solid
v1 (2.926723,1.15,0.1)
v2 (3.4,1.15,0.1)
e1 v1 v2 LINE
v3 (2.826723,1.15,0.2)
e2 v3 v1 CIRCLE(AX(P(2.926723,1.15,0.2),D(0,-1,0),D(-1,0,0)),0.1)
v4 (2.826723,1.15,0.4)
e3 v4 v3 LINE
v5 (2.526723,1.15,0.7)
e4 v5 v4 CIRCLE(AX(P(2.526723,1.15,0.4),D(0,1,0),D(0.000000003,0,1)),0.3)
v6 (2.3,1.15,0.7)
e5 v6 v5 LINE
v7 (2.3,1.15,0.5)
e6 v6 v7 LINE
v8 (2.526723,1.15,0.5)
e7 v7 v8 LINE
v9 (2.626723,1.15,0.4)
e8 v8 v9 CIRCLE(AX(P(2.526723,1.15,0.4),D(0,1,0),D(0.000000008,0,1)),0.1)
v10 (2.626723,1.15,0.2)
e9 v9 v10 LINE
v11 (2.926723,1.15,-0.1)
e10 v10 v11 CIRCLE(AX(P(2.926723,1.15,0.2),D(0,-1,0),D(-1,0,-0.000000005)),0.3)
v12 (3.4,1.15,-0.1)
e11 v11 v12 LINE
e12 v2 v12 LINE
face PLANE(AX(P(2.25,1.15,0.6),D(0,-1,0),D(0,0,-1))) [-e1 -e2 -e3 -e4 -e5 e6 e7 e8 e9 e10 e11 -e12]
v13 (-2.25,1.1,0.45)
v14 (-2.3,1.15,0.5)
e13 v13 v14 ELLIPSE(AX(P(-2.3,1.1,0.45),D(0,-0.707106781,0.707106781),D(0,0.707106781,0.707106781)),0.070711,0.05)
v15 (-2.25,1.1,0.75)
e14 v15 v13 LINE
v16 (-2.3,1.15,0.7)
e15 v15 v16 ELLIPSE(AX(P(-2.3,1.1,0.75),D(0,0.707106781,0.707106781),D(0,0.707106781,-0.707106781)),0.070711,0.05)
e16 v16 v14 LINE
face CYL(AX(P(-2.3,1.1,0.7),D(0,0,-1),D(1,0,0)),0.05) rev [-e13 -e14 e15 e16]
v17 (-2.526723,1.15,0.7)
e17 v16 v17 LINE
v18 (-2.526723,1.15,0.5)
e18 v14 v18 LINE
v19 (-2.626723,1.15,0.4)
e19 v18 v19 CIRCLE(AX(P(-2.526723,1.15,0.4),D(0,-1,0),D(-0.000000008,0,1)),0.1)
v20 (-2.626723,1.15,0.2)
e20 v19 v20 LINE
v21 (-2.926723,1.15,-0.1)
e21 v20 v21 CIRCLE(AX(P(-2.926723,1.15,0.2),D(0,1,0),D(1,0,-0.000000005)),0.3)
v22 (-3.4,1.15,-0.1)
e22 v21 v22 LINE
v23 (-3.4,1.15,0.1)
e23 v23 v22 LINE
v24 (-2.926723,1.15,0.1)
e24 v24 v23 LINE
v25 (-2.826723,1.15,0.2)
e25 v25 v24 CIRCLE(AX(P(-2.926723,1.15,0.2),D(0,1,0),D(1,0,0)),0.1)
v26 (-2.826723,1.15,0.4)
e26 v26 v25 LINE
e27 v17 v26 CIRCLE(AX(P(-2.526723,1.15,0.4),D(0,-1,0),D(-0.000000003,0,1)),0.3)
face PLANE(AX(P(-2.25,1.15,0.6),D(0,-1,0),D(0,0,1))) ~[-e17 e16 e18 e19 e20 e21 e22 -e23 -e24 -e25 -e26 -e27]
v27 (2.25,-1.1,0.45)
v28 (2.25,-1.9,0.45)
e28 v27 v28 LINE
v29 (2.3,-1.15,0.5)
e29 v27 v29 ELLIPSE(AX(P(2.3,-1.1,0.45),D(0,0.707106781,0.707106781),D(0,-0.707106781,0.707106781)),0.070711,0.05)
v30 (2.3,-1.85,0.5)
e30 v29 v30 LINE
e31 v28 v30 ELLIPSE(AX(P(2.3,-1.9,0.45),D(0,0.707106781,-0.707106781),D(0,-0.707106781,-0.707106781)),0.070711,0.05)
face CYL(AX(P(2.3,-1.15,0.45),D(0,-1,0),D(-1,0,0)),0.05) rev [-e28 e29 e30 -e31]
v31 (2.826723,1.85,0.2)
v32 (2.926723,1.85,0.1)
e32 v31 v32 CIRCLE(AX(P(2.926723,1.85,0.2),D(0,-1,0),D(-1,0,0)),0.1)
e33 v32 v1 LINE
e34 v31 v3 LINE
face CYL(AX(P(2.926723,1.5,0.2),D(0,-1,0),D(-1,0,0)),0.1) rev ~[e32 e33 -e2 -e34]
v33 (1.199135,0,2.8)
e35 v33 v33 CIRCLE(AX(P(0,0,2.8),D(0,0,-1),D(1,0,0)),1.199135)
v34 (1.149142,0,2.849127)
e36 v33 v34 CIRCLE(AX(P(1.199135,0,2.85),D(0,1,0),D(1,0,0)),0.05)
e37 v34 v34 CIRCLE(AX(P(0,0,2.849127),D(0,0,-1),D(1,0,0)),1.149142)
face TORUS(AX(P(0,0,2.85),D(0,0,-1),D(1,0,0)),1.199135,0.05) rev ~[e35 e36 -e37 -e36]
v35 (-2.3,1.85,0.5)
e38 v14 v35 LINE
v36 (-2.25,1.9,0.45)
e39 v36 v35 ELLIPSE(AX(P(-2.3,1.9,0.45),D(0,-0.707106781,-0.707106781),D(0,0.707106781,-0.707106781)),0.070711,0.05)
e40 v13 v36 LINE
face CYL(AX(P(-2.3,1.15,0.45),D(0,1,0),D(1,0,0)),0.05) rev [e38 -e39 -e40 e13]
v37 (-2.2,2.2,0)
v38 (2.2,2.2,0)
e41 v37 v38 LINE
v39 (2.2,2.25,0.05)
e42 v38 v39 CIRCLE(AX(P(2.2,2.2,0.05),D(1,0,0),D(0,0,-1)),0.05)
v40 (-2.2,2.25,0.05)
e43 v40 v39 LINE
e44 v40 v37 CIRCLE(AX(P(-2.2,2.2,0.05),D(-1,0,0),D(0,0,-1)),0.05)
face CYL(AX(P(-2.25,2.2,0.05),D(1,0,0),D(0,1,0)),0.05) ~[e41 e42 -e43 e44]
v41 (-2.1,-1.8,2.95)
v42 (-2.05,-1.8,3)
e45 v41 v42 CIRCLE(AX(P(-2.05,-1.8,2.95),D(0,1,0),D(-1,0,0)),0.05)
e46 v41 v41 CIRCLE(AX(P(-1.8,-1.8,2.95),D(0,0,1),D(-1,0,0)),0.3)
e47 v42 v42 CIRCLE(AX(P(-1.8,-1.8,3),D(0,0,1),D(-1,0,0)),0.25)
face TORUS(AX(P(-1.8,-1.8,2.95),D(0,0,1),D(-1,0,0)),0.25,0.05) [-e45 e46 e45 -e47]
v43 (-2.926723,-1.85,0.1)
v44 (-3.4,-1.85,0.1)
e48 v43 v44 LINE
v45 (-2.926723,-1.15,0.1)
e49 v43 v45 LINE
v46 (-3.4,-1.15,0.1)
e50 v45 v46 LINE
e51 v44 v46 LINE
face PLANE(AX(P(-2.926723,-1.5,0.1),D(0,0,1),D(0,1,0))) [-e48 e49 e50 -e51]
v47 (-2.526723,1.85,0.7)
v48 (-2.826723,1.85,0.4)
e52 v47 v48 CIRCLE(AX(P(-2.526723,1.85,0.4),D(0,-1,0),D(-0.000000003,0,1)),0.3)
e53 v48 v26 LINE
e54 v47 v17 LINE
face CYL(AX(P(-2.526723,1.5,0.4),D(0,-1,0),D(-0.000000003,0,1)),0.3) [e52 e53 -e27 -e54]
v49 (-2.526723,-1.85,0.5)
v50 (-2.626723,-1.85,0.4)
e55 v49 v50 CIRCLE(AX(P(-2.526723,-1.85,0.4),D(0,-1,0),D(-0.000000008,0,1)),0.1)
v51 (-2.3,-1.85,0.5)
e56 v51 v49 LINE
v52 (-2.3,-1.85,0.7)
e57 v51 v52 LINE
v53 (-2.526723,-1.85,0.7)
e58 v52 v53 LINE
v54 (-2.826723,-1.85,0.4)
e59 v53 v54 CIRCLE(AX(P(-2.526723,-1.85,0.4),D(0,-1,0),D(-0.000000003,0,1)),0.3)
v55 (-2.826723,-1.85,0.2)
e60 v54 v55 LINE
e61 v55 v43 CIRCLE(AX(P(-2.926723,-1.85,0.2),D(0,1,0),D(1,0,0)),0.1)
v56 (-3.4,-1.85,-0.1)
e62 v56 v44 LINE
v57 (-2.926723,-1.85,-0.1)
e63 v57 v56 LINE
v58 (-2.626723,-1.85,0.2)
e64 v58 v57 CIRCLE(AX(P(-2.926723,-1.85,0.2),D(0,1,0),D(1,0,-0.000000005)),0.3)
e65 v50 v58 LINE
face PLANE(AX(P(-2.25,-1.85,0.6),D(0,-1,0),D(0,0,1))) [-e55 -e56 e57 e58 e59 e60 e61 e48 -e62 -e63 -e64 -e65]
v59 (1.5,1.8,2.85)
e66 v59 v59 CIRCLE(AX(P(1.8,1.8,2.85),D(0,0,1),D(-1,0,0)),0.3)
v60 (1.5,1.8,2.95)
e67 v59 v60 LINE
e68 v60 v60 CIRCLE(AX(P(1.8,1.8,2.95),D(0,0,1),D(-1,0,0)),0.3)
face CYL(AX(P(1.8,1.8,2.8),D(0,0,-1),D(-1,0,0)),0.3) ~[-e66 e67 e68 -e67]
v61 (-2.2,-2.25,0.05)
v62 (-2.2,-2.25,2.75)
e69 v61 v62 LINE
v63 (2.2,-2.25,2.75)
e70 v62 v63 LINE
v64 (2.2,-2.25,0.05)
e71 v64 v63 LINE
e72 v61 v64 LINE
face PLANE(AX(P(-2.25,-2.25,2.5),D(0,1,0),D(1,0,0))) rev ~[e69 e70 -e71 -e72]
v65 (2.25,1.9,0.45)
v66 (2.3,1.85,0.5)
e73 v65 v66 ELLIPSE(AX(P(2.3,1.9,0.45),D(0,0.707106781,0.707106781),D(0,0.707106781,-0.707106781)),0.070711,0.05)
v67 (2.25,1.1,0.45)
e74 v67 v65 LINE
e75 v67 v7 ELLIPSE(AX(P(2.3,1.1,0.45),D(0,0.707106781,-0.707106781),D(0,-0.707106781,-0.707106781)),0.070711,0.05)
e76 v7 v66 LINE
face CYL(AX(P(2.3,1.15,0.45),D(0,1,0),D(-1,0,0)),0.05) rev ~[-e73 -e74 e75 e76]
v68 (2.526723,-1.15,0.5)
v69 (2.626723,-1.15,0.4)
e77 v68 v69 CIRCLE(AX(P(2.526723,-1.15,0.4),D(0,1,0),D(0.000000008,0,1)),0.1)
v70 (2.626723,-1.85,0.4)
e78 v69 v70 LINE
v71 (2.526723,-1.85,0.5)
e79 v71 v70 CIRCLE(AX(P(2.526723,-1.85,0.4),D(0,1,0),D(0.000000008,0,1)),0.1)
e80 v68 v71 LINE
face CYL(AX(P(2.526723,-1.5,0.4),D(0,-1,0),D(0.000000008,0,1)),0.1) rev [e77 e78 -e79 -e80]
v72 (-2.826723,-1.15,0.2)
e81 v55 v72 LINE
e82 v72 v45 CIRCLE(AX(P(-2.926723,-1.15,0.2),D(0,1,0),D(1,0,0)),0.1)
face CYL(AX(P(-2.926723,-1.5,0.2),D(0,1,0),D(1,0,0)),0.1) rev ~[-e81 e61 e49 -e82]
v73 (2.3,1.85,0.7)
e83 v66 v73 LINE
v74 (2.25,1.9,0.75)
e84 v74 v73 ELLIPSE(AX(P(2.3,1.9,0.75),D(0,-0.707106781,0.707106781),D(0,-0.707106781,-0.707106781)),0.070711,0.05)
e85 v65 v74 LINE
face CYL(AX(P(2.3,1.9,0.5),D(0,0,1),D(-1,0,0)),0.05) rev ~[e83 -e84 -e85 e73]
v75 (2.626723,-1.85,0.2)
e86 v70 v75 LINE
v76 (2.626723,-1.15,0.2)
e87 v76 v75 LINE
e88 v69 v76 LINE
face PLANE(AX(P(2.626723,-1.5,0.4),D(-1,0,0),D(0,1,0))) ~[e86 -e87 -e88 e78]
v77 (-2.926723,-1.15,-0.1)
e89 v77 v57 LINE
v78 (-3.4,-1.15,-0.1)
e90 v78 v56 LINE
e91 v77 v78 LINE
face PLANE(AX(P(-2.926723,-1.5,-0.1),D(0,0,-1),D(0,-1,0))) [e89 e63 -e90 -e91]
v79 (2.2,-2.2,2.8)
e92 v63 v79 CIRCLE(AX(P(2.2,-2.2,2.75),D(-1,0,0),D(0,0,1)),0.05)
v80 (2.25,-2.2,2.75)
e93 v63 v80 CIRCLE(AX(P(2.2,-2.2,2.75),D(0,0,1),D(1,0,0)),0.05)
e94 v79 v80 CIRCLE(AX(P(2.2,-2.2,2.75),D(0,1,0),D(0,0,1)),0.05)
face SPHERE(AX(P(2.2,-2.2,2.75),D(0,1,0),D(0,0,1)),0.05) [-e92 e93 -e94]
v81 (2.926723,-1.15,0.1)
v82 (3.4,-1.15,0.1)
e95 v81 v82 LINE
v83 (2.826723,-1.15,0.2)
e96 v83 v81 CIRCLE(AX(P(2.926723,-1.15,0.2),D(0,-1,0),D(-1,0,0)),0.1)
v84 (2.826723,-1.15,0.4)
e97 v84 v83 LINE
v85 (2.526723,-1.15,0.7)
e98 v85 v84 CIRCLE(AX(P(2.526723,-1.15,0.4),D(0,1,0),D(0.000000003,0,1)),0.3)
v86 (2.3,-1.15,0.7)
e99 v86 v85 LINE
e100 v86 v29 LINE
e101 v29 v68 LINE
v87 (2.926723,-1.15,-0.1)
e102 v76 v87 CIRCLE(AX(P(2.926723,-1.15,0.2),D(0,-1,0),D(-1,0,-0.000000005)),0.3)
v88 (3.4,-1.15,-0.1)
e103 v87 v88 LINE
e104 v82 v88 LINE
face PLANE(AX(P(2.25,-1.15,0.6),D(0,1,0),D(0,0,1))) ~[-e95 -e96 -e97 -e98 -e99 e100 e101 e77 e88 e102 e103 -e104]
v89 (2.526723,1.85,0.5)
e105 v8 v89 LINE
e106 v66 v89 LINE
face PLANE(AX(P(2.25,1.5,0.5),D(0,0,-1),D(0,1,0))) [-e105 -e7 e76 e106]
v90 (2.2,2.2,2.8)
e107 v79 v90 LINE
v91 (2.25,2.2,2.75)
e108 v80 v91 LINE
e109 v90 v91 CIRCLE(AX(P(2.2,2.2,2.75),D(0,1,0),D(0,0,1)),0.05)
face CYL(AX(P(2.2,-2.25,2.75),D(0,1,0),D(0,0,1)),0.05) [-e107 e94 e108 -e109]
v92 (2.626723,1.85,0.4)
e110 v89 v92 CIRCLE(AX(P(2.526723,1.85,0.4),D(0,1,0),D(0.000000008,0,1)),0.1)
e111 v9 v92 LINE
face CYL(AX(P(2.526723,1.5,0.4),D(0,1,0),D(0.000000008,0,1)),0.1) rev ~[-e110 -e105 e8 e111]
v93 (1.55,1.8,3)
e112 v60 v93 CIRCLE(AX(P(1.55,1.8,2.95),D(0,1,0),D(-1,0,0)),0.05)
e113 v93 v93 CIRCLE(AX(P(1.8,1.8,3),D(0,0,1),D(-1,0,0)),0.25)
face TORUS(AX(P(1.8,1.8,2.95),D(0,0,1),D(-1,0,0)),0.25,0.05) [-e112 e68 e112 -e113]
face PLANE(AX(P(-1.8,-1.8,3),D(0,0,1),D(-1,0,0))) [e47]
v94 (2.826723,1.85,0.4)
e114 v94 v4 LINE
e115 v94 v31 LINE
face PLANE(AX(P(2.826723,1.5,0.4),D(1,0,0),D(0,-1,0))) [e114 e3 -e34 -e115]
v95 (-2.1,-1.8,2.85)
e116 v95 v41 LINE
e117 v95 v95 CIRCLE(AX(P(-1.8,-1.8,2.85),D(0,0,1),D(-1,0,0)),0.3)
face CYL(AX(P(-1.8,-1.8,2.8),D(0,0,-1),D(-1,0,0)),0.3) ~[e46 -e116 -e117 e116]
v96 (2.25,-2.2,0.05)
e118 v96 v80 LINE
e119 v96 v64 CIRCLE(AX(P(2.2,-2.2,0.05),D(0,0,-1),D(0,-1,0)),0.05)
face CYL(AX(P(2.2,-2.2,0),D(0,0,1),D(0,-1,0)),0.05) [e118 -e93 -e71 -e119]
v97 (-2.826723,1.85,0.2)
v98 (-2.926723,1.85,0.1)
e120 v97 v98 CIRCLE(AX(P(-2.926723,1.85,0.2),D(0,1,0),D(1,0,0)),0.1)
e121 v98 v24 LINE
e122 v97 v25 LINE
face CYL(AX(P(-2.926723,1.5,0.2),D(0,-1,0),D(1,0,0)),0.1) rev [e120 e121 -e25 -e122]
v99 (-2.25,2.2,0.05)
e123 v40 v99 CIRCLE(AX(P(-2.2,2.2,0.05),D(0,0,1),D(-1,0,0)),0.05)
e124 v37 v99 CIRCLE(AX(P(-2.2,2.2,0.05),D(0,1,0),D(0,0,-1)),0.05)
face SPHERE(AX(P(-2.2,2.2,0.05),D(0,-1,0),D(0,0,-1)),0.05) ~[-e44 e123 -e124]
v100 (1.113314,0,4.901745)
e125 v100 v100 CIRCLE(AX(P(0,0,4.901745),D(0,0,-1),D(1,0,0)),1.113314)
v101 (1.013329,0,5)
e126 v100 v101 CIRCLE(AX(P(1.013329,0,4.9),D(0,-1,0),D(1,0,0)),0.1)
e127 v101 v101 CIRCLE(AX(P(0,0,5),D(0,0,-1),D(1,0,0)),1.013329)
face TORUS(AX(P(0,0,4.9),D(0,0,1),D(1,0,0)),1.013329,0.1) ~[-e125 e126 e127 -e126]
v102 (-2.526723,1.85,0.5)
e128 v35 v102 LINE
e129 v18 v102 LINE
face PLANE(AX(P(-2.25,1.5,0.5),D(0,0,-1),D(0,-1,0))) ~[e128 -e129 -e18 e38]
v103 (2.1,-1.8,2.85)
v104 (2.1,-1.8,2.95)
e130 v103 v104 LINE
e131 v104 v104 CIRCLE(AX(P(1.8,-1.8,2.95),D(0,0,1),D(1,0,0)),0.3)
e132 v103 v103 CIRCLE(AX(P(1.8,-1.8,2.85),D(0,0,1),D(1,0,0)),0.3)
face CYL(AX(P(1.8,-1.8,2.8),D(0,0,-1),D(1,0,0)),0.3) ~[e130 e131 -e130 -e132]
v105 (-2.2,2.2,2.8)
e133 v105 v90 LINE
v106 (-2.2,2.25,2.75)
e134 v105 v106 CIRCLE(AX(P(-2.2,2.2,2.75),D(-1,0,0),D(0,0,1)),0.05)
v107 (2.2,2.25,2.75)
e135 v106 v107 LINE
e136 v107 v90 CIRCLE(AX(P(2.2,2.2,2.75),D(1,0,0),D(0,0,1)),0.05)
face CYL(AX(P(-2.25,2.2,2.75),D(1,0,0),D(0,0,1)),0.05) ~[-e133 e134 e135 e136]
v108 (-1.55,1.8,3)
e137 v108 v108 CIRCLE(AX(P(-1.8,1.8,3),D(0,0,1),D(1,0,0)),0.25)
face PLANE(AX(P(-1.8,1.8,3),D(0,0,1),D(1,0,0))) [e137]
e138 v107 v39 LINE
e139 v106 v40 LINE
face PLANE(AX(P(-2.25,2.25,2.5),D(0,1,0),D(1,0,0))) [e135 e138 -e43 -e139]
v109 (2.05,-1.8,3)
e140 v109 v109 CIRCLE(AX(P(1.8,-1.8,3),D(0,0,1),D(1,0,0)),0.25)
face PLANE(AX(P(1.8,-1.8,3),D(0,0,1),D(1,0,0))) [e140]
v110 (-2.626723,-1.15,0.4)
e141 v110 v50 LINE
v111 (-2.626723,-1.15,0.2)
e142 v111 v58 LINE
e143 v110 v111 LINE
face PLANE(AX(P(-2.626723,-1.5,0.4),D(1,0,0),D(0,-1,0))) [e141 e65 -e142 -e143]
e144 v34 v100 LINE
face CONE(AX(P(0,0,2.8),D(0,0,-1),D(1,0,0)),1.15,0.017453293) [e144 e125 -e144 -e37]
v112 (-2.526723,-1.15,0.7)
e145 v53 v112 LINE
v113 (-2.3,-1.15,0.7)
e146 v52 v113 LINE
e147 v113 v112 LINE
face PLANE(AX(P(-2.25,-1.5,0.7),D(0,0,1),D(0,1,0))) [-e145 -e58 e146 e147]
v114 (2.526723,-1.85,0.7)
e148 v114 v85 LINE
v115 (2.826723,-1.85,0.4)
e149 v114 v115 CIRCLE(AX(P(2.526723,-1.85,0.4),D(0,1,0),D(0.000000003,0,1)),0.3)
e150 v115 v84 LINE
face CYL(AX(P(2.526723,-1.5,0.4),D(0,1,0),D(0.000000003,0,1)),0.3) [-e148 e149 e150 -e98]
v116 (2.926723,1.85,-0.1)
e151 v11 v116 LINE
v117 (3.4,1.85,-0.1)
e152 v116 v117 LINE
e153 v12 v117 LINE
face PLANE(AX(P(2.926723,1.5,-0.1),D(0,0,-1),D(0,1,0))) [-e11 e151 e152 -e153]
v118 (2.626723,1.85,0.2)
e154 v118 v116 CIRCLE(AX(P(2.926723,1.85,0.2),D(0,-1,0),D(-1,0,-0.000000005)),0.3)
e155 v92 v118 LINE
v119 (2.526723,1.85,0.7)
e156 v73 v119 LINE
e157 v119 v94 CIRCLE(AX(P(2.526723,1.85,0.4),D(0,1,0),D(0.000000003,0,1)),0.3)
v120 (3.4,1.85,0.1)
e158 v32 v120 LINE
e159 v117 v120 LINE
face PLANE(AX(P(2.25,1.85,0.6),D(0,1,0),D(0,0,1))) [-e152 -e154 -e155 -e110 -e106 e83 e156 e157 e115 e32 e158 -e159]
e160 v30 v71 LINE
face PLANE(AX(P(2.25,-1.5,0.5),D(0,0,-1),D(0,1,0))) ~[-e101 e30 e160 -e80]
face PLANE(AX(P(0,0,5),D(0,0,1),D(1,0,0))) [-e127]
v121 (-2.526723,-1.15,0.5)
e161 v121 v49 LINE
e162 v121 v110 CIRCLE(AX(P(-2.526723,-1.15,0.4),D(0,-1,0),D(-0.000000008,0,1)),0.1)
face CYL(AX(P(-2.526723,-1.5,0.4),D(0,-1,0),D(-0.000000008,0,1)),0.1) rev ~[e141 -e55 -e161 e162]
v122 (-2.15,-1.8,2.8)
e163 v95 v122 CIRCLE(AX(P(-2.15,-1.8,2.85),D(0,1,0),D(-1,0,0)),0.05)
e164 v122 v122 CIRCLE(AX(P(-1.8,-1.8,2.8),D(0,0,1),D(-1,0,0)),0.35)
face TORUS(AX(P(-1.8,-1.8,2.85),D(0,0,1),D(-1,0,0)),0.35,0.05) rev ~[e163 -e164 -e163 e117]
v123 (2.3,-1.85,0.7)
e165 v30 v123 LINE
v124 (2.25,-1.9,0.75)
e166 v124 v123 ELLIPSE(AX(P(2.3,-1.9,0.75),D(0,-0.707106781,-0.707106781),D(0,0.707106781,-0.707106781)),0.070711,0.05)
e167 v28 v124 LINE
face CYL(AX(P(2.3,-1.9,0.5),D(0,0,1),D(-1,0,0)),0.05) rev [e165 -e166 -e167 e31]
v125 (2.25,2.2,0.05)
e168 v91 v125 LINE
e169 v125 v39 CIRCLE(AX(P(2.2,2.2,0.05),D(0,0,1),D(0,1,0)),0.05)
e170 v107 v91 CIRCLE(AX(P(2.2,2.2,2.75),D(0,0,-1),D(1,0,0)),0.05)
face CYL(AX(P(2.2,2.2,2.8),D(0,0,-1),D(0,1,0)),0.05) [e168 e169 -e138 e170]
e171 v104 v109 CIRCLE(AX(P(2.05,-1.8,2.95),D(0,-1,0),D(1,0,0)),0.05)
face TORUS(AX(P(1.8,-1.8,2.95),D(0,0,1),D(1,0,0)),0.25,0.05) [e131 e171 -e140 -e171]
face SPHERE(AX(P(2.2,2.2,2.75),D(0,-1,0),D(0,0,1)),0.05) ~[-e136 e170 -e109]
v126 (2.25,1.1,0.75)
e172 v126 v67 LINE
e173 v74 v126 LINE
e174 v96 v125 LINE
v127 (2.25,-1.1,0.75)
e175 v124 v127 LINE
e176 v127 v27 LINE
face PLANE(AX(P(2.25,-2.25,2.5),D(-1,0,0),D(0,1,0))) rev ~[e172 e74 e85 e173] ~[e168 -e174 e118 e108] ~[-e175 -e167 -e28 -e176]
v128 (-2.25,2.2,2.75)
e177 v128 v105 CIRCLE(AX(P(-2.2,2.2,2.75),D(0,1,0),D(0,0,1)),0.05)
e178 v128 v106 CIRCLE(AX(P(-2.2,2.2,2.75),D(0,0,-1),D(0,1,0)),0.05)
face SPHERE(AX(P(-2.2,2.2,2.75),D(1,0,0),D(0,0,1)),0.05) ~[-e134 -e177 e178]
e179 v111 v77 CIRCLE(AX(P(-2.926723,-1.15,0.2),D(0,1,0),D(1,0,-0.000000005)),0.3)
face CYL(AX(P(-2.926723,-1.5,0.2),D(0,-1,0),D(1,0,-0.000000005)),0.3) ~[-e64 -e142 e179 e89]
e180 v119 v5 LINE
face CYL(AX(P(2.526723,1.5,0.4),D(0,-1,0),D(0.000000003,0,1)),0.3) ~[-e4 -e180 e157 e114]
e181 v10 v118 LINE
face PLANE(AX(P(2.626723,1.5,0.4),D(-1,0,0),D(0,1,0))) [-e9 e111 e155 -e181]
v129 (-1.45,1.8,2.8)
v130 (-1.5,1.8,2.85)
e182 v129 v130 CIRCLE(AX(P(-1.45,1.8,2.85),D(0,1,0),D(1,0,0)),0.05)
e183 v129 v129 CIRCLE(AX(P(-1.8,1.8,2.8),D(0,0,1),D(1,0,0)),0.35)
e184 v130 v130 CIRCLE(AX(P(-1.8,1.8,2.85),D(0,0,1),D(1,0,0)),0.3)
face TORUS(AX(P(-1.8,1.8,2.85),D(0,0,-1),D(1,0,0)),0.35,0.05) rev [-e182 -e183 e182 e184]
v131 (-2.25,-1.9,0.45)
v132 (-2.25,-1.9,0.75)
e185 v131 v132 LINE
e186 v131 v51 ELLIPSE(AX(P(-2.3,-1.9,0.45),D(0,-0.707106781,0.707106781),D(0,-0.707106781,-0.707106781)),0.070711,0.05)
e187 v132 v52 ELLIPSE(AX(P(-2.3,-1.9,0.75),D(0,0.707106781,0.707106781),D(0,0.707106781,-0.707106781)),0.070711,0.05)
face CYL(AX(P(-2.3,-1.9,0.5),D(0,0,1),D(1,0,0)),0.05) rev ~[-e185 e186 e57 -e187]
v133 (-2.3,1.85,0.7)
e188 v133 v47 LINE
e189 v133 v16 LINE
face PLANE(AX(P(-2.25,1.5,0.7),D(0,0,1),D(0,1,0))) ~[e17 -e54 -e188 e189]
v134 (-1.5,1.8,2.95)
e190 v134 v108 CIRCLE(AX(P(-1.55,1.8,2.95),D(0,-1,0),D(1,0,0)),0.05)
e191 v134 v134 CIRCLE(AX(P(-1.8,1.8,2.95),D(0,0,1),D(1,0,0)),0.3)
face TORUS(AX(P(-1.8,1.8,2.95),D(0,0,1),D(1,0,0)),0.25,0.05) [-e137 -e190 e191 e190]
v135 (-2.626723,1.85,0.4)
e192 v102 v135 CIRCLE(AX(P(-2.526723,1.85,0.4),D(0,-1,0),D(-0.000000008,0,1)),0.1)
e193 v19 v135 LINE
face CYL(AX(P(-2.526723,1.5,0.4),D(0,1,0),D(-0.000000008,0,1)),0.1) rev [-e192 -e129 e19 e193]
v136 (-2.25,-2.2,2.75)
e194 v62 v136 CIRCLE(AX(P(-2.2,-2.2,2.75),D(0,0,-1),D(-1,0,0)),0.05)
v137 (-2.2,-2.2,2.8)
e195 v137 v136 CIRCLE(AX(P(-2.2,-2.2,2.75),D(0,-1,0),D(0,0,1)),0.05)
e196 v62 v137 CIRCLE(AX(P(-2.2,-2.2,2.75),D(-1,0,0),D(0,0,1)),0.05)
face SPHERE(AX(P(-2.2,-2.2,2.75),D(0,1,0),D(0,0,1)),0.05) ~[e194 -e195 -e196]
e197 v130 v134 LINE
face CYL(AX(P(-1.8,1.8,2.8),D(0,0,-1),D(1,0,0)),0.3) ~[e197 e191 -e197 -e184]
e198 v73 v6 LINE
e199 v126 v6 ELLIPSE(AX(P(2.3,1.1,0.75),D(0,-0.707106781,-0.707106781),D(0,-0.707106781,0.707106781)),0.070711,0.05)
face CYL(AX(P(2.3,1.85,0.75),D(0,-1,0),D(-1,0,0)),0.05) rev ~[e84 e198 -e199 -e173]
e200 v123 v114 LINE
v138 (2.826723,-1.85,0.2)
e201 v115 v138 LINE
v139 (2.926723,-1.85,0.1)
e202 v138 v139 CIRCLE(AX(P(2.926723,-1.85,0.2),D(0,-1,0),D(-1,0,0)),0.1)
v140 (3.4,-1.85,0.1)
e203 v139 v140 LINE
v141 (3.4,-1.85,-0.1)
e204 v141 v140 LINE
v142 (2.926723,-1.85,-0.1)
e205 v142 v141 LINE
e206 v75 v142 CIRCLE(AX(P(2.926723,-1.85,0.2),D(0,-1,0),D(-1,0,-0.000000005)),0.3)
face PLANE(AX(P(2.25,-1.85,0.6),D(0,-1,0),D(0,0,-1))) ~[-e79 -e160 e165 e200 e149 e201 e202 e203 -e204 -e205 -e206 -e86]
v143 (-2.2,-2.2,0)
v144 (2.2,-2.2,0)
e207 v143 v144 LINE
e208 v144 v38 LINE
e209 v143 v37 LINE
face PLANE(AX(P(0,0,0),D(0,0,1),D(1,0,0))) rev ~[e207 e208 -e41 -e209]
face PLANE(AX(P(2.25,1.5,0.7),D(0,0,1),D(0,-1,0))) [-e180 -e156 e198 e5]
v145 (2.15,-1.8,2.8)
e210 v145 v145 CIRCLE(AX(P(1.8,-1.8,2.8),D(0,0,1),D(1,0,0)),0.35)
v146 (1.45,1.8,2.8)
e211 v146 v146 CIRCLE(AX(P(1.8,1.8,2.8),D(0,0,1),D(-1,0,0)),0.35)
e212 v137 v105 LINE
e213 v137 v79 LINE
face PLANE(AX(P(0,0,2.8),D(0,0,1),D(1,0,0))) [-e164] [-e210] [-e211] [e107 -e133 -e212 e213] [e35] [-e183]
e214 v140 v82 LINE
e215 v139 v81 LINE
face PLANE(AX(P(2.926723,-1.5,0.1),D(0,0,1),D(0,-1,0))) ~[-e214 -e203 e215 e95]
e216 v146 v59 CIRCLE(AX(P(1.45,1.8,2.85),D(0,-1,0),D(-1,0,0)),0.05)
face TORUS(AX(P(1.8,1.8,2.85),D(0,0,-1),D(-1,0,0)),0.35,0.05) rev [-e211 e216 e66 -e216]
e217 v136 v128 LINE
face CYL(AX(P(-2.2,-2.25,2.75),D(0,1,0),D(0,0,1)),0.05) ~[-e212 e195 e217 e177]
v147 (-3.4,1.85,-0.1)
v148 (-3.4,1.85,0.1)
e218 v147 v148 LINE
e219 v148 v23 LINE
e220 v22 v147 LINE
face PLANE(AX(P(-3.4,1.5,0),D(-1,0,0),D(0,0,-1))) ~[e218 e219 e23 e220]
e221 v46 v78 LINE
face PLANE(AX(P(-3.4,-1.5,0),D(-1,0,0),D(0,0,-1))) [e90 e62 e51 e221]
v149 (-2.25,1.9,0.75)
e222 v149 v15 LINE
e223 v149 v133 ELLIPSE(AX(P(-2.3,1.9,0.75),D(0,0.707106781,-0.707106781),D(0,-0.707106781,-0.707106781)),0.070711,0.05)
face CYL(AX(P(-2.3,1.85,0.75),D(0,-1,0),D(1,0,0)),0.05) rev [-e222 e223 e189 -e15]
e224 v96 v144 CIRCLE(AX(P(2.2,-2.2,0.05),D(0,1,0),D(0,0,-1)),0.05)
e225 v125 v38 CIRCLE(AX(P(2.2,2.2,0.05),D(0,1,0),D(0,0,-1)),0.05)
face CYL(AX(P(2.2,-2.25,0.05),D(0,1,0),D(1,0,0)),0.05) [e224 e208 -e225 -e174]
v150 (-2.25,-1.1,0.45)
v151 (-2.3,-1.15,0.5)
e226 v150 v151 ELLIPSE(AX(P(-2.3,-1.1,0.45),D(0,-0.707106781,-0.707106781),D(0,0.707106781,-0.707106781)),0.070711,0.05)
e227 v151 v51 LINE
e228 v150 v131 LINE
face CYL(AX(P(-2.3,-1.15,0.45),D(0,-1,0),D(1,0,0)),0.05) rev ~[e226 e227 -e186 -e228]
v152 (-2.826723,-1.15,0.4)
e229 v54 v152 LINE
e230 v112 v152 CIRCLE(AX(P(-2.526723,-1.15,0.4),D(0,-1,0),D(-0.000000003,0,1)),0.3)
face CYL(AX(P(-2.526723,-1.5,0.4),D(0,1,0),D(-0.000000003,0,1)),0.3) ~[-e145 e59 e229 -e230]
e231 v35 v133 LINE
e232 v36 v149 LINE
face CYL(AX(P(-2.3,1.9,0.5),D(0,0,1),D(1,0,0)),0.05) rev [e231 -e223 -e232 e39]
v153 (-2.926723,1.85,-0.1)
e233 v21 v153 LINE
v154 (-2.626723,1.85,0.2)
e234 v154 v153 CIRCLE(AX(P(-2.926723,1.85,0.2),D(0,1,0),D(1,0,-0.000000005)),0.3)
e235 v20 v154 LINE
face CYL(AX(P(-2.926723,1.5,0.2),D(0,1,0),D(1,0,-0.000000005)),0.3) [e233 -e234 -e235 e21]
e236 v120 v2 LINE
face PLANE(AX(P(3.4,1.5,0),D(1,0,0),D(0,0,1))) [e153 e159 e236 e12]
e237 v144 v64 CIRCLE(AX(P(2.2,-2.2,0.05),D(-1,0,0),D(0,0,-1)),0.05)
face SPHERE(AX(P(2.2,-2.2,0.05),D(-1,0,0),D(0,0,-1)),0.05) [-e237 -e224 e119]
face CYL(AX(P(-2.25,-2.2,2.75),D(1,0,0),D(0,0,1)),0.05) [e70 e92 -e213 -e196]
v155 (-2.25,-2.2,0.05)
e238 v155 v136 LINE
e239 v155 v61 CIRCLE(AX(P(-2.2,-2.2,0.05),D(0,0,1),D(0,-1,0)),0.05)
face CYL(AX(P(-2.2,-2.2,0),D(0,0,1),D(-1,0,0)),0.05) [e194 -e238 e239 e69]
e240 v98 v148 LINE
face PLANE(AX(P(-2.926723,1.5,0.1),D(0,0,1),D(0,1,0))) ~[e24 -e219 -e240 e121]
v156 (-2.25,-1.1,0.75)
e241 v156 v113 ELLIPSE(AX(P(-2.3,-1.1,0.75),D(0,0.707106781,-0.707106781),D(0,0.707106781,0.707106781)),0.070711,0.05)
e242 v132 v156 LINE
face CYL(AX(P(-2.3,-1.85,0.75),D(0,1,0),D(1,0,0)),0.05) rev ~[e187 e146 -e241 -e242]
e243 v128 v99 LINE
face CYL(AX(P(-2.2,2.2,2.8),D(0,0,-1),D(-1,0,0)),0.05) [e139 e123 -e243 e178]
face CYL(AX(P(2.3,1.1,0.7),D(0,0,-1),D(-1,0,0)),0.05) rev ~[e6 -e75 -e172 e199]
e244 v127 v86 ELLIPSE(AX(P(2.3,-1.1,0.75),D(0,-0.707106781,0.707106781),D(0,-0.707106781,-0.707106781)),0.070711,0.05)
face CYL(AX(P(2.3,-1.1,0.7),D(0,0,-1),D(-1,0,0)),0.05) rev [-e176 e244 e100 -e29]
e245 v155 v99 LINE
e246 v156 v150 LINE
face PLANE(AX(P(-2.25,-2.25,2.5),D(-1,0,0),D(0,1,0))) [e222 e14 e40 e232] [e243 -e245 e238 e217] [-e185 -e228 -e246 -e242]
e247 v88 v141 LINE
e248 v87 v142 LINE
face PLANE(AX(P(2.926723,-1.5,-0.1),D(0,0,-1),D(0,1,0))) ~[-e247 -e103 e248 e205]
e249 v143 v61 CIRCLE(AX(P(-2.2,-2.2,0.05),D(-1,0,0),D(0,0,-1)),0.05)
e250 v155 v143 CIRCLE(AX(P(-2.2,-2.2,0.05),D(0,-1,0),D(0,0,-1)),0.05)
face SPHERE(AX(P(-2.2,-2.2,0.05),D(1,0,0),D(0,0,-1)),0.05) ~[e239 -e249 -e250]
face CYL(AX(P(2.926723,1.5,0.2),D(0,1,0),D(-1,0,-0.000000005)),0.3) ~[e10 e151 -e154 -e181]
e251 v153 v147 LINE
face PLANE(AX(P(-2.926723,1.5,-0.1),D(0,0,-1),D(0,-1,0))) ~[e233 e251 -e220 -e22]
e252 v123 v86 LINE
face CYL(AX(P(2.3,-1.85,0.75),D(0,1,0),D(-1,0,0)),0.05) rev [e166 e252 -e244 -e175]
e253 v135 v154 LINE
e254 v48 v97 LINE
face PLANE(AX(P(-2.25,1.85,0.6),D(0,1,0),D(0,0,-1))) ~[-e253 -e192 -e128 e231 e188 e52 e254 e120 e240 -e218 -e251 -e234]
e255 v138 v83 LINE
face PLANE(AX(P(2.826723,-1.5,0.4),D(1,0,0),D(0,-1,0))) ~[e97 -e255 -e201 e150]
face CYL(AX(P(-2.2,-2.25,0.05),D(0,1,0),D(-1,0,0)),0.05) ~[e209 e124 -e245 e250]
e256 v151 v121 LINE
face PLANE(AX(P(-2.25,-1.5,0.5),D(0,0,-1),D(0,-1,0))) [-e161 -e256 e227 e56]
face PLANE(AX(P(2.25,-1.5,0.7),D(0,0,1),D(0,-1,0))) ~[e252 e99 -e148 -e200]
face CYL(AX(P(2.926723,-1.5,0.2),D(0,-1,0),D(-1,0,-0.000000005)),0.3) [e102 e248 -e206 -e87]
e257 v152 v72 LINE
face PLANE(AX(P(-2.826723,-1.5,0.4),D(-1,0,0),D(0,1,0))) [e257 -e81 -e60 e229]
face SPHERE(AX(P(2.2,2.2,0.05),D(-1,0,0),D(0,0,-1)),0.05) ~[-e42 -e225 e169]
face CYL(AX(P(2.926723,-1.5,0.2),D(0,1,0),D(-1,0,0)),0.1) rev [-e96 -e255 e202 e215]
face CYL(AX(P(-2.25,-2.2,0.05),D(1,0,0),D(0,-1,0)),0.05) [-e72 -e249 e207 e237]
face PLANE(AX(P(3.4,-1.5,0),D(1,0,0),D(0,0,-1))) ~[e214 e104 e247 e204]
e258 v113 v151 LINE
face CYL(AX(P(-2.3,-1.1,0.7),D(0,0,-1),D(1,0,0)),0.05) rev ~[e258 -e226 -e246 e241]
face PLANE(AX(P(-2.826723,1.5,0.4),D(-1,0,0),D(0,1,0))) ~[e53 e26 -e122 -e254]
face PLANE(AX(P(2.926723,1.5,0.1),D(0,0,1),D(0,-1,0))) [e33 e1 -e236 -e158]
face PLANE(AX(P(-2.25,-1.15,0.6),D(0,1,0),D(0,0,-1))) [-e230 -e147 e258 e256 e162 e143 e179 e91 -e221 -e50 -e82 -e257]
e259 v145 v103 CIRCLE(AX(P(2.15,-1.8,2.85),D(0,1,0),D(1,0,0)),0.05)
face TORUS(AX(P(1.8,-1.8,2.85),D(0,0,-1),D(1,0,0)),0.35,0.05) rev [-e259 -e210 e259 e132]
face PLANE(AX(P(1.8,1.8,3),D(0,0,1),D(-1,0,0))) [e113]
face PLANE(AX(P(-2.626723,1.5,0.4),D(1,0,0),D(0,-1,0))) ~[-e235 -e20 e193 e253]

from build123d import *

# Parameters (mm, degrees)
SKETCH1_W               = 4.5
SKETCH1_H               = 4.5
BOSS_EXTRUDE1_DEPTH     = 2.5
SKETCH2_W               = 4.5
SKETCH2_H               = 4.5
BOSS_EXTRUDE2_DEPTH     = 0.3
SKETCH3_R               = 0.3
BOSS_EXTRUDE3_DEPTH     = 0.2
SKETCH4_R               = 1.15
BOSS_EXTRUDE4_DEPTH     = 2.2
BOSS_EXTRUDE4_TAPER     = 1
SKETCH6_W               = 0.2
SKETCH6_H               = 0.7
MIRROR2_COPY_1_SKETCH_W = 0.2
MIRROR2_COPY_1_SKETCH_H = 0.7
FILLET1_R               = 0.1
FILLET2_R               = 0.05
FILLET3_R               = 0.05


with BuildPart() as part:
    # Sketch1 → Boss-Extrude1 (new body)
    with BuildSketch(Plane.XY):
        Rectangle(SKETCH1_W, SKETCH1_H)
    extrude(amount=BOSS_EXTRUDE1_DEPTH)

    # Sketch2 → Boss-Extrude2 (add)
    with BuildSketch(Plane.XY.offset(2.5)):
        Rectangle(SKETCH2_W, SKETCH2_H)
    extrude(amount=BOSS_EXTRUDE2_DEPTH)

    # Sketch3 → Boss-Extrude3 (add)
    with BuildSketch(Plane.XY.offset(2.8)):
        with Locations((-1.8, 1.8)):
            Circle(SKETCH3_R)
        with Locations(Location((1.8, 1.8, 0), (0, 0, 180))):
            Circle(SKETCH3_R)
        with Locations((1.8, -1.8)):
            Circle(SKETCH3_R)
        with Locations(Location((-1.8, -1.8, 0), (0, 0, 180))):
            Circle(SKETCH3_R)
    extrude(amount=BOSS_EXTRUDE3_DEPTH)

    # Sketch4 → Boss-Extrude4 (add)
    with BuildSketch(Plane.XY.offset(2.8)):
        Circle(SKETCH4_R)
    extrude(amount=BOSS_EXTRUDE4_DEPTH, taper=BOSS_EXTRUDE4_TAPER)

    # Sweep4: sweep along a path in Sketch5
    with BuildLine(Plane(origin=(0, 0, 0), x_dir=(1, 0, 0), z_dir=(0, 1, 0))) as sweep4_path:
        Line((2.25, -0.6), (2.52672331, -0.6))
        ThreePointArc((2.52672331, -0.6), (2.668144666, -0.541421356), (2.72672331, -0.4))
        Line((2.72672331, -0.4), (2.72672331, -0.2))
        ThreePointArc((2.72672331, -0.2), (2.785301954, -0.058578644), (2.92672331, 0))
        Line((2.92672331, 0), (3.4, 0))
    # Sketch6 → Sweep4 (sweep)
    with BuildSketch(Plane(origin=(2.25, 0, 0), x_dir=(0, 0, -1), z_dir=(1, 0, 0))):
        with Locations((-0.6, 1.5)):
            Rectangle(SKETCH6_W, SKETCH6_H)
    sweep4 = sweep(path=sweep4_path.line)

    # Mirror1: Sweep4 across plane
    add(sweep4.mirror(Plane.ZX))

    # Mirror2: Sweep4 across plane
    add(sweep4.mirror(Plane(origin=(0, 0, 0), x_dir=(0, 0, 1), z_dir=(1, 0, 0))))

    # Mirror2 copy 1: sweep along a path in Mirror2 copy 1 path
    with BuildLine(Plane(origin=(0, 0, 0), x_dir=(-1, 0, 0), z_dir=(0, -1, 0))) as mirror2_copy_1_path:
        Line((2.25, -0.6), (2.52672331, -0.6))
        ThreePointArc((2.52672331, -0.6), (2.668144666, -0.541421356), (2.72672331, -0.4))
        Line((2.72672331, -0.4), (2.72672331, -0.2))
        ThreePointArc((2.72672331, -0.2), (2.785301954, -0.058578644), (2.92672331, 0))
        Line((2.92672331, 0), (3.4, 0))
    # Mirror2 copy 1 sketch → Mirror2 copy 1 (sweep)
    with BuildSketch(Plane(origin=(-2.25, 0, 0), x_dir=(0, 0, -1), z_dir=(-1, 0, 0))):
        with Locations((-0.6, 1.5)):
            Rectangle(MIRROR2_COPY_1_SKETCH_W, MIRROR2_COPY_1_SKETCH_H)
    sweep(path=mirror2_copy_1_path.line)

    # Fillet1
    fillet1_edges = [part.edges().sort_by_distance(p)[0] for p in [
        (-1.111598857, 0, 5),
    ]]
    fillet(fillet1_edges, radius=FILLET1_R)

    # Fillet2
    fillet2_edges = [part.edges().sort_by_distance(p)[0] for p in [
        (-2.1, 1.8, 3),
        (2.1, 1.8, 3),
        (1.5, -1.8, 3),
        (-1.5, -1.8, 3),
    ]]
    fillet(fillet2_edges, radius=FILLET2_R)

    # Fillet3
    fillet3_edges = [part.edges().sort_by_distance(p)[0] for p in [
        (-2.25, 1.5, 0.5),
        (-2.25, 1.15, 0.6),
        (-2.25, 1.5, 0.7),
        (-2.25, 1.85, 0.6),
        (-2.25, -1.5, 0.7),
        (-2.25, -1.15, 0.6),
        (-2.25, -1.5, 0.5),
        (-2.25, -1.85, 0.6),
        (2.25, 0, 2.8),
        (0, 2.25, 2.8),
        (-2.25, 0, 2.8),
        (0, -2.25, 2.8),
        (-2.1, 1.8, 2.8),
        (2.1, 1.8, 2.8),
        (1.5, -1.8, 2.8),
        (-1.5, -1.8, 2.8),
        (-1.15, 0, 2.8),
        (0, -2.25, 0),
        (2.25, 1.5, 0.7),
        (2.25, 1.15, 0.6),
        (2.25, 1.5, 0.5),
        (2.25, 1.85, 0.6),
        (-2.25, 0, 0),
        (0, 2.25, 0),
        (2.25, 0, 0),
        (2.25, -2.25, 1.4),
        (-2.25, -2.25, 1.4),
        (-2.25, 2.25, 1.4),
        (2.25, 2.25, 1.4),
        (2.25, -1.5, 0.5),
        (2.25, -1.15, 0.6),
        (2.25, -1.5, 0.7),
        (2.25, -1.85, 0.6),
    ]]
    fillet(fillet3_edges, radius=FILLET3_R)


solid = part.part
